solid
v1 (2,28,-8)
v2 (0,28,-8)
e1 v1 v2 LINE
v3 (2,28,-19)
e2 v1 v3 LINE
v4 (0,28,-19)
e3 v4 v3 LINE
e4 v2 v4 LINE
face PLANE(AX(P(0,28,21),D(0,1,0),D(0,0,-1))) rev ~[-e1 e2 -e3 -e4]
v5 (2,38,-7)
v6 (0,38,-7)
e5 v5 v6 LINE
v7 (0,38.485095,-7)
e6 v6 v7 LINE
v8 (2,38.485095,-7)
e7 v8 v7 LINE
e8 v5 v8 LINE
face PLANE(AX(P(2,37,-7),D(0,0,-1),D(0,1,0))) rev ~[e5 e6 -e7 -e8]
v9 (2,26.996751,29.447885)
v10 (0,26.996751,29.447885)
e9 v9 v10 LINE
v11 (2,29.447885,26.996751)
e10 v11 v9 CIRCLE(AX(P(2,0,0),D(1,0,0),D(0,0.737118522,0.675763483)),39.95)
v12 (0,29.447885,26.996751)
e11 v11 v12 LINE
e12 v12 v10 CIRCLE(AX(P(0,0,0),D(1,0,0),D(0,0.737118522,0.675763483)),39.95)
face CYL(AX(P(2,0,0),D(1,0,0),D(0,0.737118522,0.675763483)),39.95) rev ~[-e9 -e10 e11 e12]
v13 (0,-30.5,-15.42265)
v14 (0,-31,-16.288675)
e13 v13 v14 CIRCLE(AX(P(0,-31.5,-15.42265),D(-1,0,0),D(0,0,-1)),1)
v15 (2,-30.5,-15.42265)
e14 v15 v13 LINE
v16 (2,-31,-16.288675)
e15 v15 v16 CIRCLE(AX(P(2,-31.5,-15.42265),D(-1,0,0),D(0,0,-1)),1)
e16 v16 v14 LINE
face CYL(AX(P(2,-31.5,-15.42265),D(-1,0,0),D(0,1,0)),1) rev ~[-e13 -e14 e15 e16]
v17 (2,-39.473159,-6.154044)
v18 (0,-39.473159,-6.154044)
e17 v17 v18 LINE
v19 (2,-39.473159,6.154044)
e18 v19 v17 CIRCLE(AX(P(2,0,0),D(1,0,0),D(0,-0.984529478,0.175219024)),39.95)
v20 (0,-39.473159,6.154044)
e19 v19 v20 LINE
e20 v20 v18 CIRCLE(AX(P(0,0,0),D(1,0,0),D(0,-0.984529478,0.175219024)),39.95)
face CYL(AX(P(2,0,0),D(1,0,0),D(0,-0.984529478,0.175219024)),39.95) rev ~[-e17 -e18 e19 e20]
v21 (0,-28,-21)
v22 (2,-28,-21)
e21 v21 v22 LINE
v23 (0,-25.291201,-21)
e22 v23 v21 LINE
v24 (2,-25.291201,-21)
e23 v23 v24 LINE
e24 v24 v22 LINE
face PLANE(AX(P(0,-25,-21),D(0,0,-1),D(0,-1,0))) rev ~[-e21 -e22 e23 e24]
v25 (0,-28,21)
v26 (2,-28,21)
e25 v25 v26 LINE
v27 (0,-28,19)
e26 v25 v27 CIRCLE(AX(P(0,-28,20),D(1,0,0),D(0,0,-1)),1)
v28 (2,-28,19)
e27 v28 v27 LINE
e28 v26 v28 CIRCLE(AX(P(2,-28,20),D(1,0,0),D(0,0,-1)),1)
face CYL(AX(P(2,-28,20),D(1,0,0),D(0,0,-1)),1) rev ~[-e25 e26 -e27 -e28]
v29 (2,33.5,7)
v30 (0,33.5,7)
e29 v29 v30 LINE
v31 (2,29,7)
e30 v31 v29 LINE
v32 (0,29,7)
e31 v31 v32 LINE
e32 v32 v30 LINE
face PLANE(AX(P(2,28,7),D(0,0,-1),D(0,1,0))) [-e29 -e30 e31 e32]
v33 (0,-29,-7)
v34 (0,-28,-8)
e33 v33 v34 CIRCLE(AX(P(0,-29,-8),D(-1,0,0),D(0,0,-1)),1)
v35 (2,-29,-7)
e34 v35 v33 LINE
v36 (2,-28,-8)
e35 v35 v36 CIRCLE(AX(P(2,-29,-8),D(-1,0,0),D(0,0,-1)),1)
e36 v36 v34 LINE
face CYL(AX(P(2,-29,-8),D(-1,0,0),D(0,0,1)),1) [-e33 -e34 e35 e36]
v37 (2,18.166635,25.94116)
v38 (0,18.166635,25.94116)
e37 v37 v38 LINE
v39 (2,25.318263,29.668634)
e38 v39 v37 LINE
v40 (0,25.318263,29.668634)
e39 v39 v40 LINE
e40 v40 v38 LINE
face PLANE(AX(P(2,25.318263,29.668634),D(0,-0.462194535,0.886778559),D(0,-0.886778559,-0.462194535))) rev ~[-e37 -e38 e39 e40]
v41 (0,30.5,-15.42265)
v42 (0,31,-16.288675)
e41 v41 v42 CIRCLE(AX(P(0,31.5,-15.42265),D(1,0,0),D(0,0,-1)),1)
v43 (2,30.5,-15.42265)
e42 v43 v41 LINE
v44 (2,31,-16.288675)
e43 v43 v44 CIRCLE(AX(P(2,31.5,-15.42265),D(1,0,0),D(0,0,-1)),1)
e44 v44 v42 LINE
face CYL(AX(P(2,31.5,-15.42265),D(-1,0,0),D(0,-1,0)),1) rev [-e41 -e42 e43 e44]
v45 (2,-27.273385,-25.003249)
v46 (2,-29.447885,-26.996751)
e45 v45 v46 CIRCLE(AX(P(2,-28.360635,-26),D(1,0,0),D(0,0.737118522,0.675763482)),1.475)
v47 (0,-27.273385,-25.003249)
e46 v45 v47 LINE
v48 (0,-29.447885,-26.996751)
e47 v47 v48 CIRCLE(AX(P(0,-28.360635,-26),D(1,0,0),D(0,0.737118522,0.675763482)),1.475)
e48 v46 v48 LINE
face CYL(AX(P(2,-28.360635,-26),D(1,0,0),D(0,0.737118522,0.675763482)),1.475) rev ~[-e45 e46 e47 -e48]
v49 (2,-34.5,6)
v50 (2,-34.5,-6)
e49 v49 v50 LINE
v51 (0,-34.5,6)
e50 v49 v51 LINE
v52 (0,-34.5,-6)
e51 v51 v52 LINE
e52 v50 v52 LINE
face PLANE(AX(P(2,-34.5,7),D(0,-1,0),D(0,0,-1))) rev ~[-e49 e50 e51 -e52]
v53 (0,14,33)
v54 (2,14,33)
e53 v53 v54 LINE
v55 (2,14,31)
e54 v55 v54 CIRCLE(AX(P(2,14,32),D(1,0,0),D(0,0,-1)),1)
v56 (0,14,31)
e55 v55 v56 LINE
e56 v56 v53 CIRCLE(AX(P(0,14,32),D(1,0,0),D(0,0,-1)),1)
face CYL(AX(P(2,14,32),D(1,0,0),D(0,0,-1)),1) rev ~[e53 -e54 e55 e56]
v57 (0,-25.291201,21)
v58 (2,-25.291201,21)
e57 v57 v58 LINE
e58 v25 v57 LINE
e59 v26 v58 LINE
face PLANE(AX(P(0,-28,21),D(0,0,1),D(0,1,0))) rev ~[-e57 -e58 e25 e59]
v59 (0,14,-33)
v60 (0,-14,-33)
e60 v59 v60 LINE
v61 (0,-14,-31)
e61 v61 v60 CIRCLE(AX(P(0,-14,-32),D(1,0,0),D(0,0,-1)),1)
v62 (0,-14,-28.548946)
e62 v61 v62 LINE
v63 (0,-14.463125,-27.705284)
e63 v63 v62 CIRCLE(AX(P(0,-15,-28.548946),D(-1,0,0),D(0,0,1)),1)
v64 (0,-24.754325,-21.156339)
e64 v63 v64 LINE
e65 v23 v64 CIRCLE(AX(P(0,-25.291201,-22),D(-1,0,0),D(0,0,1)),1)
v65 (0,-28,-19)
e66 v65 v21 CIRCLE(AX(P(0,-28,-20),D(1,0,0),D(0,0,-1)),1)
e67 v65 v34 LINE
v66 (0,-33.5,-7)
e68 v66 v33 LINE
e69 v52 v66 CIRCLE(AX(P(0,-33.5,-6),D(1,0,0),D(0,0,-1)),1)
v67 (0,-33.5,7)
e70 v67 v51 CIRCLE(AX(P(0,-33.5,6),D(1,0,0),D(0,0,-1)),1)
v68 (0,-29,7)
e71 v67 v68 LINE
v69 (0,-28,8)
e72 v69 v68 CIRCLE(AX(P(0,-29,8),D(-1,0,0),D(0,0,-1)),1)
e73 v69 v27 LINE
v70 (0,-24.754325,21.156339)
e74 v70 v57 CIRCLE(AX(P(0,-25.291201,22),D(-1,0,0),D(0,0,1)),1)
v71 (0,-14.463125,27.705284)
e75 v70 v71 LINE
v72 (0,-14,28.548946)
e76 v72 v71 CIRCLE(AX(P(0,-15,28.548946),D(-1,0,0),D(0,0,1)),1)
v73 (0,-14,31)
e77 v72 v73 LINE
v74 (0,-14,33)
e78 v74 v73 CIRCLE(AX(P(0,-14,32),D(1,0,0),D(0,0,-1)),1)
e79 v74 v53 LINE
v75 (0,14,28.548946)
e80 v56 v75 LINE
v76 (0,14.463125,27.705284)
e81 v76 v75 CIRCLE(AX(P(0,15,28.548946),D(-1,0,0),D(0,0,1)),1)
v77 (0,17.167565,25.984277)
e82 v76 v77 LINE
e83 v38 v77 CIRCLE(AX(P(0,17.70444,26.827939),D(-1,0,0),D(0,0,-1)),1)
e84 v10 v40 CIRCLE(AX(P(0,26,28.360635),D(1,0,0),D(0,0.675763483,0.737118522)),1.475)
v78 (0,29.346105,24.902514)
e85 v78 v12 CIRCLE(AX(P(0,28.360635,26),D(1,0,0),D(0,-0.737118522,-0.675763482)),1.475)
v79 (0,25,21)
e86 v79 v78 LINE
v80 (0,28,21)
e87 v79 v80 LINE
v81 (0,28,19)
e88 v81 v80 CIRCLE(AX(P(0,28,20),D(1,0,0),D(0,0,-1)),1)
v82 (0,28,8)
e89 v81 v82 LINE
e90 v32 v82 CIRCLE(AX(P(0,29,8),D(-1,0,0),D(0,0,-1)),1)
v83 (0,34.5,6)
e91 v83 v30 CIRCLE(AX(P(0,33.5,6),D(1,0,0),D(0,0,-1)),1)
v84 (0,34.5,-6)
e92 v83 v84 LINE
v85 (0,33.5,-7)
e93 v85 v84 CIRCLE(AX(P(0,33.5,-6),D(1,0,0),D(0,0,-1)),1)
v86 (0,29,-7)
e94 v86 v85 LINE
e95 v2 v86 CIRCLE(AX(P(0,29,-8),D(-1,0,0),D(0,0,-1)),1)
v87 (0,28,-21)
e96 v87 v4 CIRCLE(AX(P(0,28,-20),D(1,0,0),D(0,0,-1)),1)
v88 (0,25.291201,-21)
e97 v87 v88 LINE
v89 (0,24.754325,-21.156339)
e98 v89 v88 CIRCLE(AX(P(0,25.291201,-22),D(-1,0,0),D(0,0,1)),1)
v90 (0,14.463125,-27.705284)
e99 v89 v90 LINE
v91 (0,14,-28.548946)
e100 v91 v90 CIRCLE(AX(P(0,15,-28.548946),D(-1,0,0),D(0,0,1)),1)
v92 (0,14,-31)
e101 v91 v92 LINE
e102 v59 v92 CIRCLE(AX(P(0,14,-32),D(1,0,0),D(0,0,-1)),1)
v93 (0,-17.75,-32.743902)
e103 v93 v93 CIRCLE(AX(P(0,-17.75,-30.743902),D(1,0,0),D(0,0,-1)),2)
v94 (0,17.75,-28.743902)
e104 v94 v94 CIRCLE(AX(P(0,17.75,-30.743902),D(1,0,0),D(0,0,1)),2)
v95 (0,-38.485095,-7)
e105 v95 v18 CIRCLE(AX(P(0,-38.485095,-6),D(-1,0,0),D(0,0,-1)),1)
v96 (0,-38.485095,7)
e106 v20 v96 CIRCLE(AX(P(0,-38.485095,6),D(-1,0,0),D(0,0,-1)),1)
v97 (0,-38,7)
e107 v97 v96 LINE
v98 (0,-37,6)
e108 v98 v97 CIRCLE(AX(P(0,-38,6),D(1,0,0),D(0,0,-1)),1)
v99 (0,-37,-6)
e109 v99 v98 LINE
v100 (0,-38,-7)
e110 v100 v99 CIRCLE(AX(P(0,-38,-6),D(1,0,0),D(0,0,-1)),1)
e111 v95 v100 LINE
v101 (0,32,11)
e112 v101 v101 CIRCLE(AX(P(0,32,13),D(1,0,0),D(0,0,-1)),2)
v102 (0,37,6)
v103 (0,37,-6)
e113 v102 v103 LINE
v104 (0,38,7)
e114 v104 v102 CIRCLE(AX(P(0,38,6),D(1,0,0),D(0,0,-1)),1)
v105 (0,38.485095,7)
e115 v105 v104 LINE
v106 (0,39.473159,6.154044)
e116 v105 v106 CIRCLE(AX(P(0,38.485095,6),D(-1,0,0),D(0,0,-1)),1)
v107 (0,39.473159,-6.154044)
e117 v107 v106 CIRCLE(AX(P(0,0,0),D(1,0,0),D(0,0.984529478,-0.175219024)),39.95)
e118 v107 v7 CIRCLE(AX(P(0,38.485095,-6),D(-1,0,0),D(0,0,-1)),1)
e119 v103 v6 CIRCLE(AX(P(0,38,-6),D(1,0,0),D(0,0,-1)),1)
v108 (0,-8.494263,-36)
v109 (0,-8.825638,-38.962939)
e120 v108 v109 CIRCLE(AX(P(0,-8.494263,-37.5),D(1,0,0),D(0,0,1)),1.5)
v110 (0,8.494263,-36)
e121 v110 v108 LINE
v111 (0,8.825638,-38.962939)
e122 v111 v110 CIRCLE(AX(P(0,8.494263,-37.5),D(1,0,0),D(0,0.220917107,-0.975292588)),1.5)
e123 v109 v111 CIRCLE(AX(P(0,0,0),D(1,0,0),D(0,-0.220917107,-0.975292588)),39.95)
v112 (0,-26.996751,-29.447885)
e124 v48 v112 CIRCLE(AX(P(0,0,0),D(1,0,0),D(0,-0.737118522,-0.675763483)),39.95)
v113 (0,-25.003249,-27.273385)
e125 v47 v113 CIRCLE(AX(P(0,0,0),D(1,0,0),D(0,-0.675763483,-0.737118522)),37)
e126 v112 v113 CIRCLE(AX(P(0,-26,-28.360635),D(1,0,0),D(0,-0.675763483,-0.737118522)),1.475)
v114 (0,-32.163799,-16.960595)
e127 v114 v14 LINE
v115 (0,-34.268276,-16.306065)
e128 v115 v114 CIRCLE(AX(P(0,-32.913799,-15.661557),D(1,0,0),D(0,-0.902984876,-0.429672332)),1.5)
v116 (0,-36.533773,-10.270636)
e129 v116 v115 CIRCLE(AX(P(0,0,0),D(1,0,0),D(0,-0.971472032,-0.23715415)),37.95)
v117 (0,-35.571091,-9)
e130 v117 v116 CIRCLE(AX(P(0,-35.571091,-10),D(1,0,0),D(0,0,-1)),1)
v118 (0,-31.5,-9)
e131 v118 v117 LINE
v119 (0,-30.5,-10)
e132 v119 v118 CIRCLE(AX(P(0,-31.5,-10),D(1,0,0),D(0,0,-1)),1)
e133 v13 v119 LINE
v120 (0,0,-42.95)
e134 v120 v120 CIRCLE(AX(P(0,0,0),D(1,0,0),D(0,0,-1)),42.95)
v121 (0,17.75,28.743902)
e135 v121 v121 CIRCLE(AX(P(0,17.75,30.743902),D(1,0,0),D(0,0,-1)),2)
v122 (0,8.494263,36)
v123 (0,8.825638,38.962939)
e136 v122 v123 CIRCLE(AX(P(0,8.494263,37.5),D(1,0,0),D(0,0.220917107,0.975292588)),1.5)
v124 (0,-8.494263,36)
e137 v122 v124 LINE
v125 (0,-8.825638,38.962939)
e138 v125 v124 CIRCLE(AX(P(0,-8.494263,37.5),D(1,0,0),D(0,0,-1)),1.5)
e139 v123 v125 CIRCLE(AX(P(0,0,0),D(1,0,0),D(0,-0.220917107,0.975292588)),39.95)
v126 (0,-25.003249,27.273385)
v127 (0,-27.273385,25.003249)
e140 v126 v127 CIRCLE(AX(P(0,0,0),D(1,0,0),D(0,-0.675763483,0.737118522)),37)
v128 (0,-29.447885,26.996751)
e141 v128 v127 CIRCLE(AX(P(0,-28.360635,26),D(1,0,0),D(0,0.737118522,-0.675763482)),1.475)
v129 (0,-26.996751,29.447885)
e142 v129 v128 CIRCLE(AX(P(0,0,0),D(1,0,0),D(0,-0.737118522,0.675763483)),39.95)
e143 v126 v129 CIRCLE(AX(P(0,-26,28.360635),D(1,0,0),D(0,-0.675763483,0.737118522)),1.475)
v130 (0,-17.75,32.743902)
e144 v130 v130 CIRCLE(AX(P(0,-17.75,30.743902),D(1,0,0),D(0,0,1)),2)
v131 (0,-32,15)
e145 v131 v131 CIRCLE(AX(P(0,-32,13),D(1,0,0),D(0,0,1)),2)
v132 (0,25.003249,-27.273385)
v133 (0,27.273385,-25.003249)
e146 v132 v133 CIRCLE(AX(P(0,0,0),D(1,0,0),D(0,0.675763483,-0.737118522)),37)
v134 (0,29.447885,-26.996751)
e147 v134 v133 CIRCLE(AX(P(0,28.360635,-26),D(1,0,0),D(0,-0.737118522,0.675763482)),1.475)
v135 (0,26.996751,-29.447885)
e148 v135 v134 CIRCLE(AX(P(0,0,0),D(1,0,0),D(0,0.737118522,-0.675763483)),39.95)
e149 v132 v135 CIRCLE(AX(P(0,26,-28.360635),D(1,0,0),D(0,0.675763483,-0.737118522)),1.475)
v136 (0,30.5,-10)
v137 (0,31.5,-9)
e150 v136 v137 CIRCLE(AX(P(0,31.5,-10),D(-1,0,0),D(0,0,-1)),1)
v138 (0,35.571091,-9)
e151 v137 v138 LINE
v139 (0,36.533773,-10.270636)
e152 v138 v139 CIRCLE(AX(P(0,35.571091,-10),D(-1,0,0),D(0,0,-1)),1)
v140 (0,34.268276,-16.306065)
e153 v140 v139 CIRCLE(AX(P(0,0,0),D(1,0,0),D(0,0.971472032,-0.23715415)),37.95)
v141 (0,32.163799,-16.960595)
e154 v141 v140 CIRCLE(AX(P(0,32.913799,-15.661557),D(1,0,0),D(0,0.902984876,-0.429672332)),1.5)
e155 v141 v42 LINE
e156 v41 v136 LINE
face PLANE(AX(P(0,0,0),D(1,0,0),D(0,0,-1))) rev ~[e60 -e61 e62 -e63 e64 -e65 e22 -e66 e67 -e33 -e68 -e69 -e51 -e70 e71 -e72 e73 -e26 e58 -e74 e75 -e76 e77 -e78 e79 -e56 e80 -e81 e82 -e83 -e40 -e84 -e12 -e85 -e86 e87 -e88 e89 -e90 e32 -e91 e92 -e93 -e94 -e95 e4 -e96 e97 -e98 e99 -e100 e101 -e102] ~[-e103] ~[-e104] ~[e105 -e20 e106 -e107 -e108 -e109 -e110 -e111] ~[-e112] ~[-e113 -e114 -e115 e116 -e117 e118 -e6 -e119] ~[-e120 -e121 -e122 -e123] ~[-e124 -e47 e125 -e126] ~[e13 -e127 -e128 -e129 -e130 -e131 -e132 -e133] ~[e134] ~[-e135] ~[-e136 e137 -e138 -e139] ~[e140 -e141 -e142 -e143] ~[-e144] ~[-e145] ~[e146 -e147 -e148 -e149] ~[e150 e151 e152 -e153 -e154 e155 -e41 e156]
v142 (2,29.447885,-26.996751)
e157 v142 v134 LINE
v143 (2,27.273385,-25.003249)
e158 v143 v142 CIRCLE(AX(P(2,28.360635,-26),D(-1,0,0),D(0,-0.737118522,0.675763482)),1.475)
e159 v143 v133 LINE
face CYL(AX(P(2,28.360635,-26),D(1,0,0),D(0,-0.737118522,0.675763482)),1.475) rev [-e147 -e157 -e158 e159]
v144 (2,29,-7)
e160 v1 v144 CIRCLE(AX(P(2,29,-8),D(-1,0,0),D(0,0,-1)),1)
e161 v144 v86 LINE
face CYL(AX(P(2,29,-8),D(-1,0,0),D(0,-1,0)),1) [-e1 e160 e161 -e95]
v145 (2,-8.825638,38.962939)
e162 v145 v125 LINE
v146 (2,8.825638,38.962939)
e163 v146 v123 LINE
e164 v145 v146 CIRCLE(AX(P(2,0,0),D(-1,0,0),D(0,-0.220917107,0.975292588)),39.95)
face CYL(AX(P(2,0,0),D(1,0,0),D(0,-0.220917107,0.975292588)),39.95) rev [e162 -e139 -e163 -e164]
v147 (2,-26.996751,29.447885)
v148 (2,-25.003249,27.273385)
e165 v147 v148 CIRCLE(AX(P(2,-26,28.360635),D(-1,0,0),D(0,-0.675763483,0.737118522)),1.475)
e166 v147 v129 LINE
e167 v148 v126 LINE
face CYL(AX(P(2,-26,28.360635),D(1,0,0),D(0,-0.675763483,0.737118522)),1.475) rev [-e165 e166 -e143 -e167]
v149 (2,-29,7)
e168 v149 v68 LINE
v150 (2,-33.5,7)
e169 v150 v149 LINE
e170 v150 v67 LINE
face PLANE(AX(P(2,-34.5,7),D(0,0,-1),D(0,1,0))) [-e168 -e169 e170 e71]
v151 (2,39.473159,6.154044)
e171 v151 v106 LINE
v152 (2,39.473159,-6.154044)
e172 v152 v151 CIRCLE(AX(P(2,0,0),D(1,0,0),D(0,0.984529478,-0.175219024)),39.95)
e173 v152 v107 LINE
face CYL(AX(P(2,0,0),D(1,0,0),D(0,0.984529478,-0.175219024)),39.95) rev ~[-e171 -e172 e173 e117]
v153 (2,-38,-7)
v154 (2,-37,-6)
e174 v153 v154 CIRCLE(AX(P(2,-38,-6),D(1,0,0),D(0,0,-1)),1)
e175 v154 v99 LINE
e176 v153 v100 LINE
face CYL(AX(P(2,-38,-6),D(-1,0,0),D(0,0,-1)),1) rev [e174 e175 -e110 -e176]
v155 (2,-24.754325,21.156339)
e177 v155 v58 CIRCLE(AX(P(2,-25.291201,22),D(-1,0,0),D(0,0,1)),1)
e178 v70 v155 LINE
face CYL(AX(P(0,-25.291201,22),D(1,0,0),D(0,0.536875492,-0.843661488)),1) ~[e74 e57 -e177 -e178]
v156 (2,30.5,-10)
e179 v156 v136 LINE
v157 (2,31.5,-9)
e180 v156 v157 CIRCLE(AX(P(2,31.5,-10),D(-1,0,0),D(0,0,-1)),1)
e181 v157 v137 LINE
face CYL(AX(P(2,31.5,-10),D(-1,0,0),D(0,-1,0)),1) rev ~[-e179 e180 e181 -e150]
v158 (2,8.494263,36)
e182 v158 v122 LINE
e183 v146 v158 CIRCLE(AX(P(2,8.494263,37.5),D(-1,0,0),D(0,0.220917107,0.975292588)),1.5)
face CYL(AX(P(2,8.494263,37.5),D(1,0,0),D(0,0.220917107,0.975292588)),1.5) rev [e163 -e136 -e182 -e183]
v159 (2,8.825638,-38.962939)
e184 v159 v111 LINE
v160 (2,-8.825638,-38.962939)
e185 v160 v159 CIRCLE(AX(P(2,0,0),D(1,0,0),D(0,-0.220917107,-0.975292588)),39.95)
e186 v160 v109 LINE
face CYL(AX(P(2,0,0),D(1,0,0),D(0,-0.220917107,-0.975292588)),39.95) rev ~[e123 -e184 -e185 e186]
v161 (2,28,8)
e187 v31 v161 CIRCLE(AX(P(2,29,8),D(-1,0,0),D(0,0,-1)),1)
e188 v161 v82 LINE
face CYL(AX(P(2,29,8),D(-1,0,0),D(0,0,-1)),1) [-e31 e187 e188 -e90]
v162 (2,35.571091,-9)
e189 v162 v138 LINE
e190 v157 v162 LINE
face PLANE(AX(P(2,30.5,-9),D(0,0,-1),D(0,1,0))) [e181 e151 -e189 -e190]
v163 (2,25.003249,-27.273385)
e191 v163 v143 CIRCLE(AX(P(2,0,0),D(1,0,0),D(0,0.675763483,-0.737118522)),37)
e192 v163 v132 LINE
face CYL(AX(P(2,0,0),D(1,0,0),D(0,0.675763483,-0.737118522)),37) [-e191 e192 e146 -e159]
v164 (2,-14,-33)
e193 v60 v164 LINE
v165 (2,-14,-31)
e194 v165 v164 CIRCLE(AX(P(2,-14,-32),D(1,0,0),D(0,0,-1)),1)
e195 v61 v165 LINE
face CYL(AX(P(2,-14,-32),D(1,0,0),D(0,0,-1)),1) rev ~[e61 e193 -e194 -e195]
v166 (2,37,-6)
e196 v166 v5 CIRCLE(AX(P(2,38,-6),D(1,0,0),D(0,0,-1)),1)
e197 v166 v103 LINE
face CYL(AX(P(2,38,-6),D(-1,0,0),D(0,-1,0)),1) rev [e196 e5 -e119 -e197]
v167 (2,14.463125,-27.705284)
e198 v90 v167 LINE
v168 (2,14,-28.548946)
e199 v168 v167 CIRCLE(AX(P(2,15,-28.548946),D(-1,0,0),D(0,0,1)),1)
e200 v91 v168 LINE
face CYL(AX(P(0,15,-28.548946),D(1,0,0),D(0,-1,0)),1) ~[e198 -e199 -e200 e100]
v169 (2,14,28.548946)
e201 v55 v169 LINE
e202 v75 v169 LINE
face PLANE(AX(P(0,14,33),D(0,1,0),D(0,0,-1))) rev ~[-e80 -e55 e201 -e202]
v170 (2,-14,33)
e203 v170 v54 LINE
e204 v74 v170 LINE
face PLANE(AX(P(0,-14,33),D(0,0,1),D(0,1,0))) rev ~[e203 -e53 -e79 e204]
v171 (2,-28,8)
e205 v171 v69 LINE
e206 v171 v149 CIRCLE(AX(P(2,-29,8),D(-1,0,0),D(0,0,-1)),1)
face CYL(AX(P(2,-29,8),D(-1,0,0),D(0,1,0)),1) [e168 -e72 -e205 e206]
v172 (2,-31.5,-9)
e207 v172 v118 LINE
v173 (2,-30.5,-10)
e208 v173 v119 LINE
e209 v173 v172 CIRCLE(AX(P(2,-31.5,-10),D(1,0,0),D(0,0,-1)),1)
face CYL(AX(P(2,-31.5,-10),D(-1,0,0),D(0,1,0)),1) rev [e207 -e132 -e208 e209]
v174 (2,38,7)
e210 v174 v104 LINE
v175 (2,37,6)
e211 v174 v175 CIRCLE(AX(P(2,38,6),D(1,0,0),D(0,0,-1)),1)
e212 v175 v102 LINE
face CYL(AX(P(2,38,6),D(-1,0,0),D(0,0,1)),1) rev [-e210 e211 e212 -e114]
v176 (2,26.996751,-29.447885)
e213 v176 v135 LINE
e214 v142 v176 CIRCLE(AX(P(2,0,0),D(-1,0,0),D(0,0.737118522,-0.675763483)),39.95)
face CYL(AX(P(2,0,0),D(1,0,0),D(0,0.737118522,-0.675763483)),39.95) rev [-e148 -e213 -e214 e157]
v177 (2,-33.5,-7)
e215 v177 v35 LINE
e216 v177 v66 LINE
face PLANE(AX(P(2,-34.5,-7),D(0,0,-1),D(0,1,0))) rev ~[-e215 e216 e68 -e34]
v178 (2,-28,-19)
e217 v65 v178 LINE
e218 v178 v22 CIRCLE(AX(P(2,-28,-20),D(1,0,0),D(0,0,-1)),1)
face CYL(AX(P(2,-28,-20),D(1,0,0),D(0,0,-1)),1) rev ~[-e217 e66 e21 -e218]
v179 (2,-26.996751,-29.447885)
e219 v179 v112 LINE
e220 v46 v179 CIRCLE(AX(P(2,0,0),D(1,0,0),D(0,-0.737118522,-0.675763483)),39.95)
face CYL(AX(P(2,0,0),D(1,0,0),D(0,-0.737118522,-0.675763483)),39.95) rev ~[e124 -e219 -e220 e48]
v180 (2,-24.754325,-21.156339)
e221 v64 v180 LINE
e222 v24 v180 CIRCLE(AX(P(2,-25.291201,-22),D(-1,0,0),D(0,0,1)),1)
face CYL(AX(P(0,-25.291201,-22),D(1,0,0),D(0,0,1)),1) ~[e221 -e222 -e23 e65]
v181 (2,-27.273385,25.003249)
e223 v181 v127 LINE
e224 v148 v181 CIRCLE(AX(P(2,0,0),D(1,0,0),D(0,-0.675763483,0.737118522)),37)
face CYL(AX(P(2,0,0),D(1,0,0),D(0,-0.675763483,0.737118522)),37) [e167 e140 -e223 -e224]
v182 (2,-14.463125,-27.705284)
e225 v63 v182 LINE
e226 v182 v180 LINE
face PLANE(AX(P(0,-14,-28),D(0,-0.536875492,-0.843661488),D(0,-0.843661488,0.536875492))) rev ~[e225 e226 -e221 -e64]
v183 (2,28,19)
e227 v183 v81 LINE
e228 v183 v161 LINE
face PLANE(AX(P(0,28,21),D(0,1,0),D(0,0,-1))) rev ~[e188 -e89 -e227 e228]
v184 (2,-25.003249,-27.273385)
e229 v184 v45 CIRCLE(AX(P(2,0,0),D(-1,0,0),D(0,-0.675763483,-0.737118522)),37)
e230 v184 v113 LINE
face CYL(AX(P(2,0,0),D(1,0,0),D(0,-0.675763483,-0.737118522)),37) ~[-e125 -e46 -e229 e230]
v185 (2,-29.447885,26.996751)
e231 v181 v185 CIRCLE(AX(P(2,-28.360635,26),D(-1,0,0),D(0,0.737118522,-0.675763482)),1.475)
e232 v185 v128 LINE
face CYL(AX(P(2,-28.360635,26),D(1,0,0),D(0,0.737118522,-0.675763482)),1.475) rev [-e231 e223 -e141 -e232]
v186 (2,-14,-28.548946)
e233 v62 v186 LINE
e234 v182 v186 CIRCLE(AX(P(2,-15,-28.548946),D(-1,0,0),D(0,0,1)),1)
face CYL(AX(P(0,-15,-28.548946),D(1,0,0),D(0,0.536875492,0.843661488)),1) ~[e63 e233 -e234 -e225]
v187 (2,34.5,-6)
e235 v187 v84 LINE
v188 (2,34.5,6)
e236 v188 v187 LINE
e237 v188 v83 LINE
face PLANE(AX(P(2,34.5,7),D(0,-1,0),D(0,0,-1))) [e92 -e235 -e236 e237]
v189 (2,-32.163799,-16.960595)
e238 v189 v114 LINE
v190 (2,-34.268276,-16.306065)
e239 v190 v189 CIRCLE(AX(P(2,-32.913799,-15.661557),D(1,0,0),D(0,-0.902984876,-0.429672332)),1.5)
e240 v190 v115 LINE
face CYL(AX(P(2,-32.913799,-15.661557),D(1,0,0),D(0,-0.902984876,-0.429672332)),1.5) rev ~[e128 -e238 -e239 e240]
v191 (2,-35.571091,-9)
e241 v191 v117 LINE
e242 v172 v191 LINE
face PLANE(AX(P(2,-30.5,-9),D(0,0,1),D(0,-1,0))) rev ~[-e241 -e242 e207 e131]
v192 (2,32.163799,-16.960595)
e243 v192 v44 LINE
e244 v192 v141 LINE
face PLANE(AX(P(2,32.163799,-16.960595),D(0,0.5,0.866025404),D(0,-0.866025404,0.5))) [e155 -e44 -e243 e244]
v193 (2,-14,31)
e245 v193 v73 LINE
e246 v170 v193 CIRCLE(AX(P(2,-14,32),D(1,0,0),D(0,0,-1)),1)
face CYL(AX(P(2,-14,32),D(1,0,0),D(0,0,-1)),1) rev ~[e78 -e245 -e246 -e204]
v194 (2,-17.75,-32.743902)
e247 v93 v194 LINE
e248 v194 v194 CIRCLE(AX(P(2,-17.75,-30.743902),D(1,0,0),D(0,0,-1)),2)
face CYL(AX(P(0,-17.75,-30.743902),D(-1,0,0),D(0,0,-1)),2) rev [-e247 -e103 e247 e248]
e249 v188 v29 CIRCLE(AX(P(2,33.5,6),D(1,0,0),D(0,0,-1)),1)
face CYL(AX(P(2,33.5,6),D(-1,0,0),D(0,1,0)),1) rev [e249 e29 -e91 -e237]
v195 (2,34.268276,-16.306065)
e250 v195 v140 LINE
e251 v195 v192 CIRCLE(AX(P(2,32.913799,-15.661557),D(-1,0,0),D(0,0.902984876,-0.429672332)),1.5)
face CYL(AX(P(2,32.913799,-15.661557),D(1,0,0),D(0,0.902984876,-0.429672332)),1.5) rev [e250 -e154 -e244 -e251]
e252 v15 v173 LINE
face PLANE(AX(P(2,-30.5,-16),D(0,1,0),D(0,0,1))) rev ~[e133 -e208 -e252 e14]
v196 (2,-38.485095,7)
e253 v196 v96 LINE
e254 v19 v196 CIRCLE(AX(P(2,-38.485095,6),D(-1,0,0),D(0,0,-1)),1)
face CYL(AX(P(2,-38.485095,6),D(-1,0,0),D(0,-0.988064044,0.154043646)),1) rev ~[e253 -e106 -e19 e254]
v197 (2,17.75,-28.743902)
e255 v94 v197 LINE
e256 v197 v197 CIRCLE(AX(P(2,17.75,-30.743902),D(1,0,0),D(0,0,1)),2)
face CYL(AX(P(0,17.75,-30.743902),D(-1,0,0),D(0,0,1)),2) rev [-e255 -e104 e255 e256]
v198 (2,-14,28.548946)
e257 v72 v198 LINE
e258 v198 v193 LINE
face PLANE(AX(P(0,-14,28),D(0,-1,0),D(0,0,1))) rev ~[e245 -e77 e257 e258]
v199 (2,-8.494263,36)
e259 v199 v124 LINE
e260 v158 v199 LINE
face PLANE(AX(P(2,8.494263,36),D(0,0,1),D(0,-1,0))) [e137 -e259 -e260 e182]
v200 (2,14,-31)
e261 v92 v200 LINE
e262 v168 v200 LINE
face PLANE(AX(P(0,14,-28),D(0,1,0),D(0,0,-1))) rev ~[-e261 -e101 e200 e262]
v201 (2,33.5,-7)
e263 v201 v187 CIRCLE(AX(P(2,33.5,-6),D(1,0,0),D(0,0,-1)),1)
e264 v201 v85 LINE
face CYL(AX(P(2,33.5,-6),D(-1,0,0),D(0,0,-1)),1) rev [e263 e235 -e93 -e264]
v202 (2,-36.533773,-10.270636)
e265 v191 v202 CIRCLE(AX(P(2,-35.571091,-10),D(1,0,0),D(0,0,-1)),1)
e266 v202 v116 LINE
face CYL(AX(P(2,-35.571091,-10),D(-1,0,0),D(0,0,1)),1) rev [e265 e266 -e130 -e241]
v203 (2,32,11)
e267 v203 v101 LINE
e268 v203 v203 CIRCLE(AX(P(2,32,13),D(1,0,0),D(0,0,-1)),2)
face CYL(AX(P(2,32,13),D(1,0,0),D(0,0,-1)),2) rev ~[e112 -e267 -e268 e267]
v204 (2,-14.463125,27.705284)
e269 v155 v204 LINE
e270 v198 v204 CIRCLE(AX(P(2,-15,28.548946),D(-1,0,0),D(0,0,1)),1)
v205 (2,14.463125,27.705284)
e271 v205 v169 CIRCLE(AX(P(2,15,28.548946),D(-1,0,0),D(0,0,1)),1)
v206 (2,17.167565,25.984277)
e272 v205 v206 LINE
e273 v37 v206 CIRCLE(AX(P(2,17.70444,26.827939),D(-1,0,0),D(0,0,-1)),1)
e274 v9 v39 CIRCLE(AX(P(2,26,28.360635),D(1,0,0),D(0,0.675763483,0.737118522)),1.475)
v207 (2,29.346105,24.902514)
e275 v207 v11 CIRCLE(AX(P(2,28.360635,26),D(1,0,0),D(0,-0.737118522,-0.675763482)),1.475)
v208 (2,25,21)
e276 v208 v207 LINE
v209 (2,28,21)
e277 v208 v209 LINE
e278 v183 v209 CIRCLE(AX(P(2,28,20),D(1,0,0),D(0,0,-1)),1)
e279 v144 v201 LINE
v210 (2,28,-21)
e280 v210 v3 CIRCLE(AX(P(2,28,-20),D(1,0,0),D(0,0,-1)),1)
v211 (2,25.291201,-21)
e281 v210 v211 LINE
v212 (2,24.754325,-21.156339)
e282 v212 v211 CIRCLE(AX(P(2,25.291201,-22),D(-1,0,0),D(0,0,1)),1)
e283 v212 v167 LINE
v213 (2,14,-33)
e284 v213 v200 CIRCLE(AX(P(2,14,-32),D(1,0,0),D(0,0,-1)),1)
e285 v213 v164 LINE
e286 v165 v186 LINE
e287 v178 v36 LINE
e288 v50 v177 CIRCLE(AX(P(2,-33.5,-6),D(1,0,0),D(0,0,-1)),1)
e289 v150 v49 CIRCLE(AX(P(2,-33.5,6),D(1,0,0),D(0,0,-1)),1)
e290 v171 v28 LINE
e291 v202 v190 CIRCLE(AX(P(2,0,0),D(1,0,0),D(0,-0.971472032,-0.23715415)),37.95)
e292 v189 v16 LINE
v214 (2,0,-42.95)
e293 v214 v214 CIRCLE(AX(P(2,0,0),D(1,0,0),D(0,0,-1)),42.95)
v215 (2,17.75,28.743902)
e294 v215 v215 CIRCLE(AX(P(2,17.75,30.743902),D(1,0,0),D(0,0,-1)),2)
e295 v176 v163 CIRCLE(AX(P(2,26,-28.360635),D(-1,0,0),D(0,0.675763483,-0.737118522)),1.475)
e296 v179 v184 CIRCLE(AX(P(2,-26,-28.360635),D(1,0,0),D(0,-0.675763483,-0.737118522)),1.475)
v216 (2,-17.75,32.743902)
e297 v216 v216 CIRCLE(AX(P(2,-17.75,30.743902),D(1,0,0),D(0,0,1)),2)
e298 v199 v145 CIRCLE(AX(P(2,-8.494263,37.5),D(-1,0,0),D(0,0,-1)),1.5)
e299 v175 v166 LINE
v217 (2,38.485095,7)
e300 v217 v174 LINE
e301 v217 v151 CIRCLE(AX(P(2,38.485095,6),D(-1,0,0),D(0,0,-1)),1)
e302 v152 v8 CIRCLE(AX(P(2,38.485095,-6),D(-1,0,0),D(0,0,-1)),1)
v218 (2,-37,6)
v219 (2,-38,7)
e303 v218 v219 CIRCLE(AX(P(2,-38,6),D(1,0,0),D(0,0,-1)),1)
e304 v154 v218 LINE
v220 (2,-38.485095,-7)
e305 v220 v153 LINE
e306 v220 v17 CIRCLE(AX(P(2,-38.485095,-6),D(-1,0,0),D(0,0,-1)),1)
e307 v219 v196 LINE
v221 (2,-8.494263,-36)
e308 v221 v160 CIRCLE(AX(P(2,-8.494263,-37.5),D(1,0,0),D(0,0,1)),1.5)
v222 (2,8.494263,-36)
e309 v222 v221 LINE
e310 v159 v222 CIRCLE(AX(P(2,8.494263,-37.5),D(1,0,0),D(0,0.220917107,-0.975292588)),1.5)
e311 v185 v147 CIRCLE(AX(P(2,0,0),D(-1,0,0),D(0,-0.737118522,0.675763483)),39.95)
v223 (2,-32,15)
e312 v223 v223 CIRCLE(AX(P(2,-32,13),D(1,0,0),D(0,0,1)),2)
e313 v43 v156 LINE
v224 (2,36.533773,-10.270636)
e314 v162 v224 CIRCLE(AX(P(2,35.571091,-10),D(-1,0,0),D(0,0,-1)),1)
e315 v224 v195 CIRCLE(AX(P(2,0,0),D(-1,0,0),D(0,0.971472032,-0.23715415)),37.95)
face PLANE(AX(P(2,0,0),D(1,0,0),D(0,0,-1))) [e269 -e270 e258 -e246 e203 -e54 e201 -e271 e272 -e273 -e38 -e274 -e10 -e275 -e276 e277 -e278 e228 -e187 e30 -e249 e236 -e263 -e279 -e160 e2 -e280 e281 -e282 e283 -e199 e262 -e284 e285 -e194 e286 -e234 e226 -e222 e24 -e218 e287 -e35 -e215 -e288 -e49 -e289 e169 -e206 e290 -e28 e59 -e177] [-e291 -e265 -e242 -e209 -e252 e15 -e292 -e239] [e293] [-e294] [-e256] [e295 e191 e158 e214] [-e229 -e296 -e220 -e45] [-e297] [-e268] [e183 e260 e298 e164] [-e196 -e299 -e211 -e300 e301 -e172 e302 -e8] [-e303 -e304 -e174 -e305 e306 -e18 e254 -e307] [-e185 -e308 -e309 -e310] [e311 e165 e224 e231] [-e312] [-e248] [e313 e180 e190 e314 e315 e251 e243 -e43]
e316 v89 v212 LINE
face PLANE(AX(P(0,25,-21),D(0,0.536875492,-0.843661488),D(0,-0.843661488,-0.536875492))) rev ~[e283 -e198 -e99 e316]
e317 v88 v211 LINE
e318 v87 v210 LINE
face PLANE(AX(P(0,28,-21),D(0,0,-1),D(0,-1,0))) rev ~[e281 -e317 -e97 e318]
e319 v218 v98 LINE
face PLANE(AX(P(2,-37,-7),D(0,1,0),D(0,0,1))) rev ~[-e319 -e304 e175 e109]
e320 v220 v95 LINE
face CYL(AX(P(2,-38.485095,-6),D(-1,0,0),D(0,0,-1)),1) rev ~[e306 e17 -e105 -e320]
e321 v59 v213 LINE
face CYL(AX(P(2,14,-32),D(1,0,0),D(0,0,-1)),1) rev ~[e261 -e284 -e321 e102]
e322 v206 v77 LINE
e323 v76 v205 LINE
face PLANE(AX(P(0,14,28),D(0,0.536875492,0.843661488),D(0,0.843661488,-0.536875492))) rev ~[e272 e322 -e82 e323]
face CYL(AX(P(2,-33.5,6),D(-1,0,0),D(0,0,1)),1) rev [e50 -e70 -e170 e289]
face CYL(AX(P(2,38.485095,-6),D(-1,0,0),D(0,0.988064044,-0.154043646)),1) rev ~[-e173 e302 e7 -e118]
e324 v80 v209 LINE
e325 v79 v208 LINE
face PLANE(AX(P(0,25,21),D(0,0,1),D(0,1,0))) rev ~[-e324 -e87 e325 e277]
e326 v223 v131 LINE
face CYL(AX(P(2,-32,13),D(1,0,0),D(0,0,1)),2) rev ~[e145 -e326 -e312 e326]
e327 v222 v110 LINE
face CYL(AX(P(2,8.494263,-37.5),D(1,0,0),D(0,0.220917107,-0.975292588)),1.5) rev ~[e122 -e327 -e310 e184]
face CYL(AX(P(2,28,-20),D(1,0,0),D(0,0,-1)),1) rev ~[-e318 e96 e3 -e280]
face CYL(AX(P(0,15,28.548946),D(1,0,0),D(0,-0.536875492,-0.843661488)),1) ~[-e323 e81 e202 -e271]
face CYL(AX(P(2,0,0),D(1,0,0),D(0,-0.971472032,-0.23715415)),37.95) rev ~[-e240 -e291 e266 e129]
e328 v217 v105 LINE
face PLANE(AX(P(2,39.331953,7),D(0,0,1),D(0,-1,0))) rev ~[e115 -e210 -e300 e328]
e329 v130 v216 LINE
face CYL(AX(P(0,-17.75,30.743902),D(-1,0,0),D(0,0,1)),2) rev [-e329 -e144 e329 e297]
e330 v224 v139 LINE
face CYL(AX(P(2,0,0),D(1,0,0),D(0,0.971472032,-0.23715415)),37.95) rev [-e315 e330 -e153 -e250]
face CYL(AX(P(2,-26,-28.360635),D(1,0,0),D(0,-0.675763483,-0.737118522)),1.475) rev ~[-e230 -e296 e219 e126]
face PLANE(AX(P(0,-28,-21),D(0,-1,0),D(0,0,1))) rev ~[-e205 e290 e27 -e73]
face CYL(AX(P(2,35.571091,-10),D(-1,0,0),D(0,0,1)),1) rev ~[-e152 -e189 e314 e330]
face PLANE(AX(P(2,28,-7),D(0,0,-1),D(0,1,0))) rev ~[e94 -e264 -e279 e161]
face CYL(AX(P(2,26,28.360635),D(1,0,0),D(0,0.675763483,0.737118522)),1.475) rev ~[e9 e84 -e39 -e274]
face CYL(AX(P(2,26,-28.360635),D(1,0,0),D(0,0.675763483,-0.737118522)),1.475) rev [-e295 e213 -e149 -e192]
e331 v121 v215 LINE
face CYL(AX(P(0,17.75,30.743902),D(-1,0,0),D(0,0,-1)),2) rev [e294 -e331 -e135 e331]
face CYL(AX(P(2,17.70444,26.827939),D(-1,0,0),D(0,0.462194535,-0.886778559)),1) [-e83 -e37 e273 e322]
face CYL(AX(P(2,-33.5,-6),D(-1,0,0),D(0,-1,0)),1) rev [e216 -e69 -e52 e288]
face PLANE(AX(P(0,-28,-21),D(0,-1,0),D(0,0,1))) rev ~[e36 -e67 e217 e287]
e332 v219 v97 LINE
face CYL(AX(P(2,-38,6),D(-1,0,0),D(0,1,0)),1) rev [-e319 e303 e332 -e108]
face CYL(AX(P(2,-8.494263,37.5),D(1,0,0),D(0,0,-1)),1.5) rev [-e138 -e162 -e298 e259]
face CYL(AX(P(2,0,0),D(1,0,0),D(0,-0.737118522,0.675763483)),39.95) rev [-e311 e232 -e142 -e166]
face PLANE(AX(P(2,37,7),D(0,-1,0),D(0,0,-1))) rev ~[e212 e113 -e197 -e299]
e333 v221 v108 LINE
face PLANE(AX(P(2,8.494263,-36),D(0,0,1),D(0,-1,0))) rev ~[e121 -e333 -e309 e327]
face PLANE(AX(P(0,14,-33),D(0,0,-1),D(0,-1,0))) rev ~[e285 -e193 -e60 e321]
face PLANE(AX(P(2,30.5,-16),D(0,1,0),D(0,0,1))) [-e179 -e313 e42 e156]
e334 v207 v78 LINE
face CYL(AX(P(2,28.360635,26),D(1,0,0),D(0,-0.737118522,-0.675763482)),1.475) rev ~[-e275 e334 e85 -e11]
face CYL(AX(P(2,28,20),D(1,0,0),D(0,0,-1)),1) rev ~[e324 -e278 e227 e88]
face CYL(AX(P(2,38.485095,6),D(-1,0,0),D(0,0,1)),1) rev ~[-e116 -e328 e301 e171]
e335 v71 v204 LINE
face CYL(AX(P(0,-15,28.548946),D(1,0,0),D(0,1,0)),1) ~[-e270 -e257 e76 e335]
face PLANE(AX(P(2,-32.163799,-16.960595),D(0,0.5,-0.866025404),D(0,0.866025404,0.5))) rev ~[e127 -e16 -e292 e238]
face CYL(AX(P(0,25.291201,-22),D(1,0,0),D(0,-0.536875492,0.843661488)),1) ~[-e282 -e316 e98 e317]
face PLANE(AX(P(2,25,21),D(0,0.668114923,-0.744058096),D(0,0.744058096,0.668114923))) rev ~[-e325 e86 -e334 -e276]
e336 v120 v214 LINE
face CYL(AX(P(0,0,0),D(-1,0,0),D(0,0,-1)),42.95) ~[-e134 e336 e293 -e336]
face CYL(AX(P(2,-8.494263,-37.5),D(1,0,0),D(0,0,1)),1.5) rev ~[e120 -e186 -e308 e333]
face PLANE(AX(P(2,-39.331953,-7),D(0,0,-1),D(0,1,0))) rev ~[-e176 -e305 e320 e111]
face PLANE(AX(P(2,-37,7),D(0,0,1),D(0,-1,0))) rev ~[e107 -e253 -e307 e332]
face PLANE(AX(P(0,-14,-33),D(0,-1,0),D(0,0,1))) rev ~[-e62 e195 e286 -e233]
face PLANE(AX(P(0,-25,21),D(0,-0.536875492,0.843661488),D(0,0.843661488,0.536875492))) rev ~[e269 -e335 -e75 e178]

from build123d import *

# Parameters (mm, degrees)
SKETCH_1_R          = 42.95
SKETCH_1_R_2        = 2
EXTRUDE_1_DEPTH     = 2
SKETCH_5_R          = 1
SKETCH_5_R_2        = 2
SKETCH_5_W          = 14
SKETCH_5_H          = 6.5
CUT_EXTRUDE_2_DEPTH = 61.773390559
CUT_EXTRUDE_3_DEPTH = 61.773390559
FILLET_1_R          = 1


with BuildPart() as part:
    # 草图1 → 凸台-拉伸1 (new body)
    with BuildSketch(Plane(origin=(0, 0, 0), x_dir=(0, 0, -1), z_dir=(1, 0, 0))):
        Circle(SKETCH_1_R)
        with Locations((-30.743901834, 17.75)):
            Circle(SKETCH_1_R_2, mode=Mode.SUBTRACT)
        with Locations(Location((-30.743901834, -17.75, 0), (0, 0, 180))):
            Circle(SKETCH_1_R_2, mode=Mode.SUBTRACT)
        with Locations((30.743901834, -17.75)):
            Circle(SKETCH_1_R_2, mode=Mode.SUBTRACT)
        with Locations(Location((30.743901834, 17.75, 0), (0, 0, 180))):
            Circle(SKETCH_1_R_2, mode=Mode.SUBTRACT)
        Polygon((-21, 28), (21, 28), (21, 25), (28, 14), (33, 14), (33, -14), (28, -14), (21, -25), (21, -28), (-21, -28), (-21, -25), (-28, -14), (-33, -14), (-33, 14), (-28, 14), (-21, 25), align=None, mode=Mode.SUBTRACT)
    extrude(amount=EXTRUDE_1_DEPTH)

    # 草图5 → 切除-拉伸2 (cut, through all)
    with BuildSketch(Plane(origin=(2, 0, 0), x_dir=(0, 0, -1), z_dir=(1, 0, 0))):
        with Locations((32, 14)):
            Circle(SKETCH_5_R)
        with Locations((20, 28)):
            Circle(SKETCH_5_R)
        with Locations((-20, 28)):
            Circle(SKETCH_5_R)
        with Locations((-32, 14)):
            Circle(SKETCH_5_R)
        with Locations((-32, -14)):
            Circle(SKETCH_5_R)
        with Locations((-20, -28)):
            Circle(SKETCH_5_R)
        with Locations((20, -28)):
            Circle(SKETCH_5_R)
        with Locations((32, -14)):
            Circle(SKETCH_5_R)
        with Locations((-13, 32)):
            Circle(SKETCH_5_R_2)
        with Locations(Location((-13, -32, 0), (0, 0, 180))):
            Circle(SKETCH_5_R_2)
        with BuildLine():
            Line((-36, 8.49426277), (-36, -8.49426277))
            ThreePointArc((-36, -8.49426277), (-37.333279159, -9.984968697), (-38.962938882, -8.82563843))
            ThreePointArc((-38.962938882, -8.82563843), (-39.95, 0), (-38.962938882, 8.82563843))
            ThreePointArc((-38.962938882, 8.82563843), (-37.333279159, 9.984968697), (-36, 8.49426277))
        make_face()
        with Locations((0, 31.25)):
            Rectangle(SKETCH_5_W, SKETCH_5_H)
        with BuildLine():
            Line((-7, 39.331952659), (-7, 37))
            Line((-7, 37), (7, 37))
            Line((7, 37), (7, 39.331952659))
            ThreePointArc((7, 39.331952659), (0, 39.95), (-7, 39.331952659))
        make_face()
        with BuildLine():
            Line((9, 30.5), (9, 36.867363616))
            ThreePointArc((9, 36.867363616), (12.719592996, 35.754922095), (16.306065038, 34.268276043))
            ThreePointArc((16.306065038, 34.268276043), (17.093879667, 33.359276514), (16.960594644, 32.163798729))
            Line((16.960594644, 32.163798729), (16, 30.5))
            Line((16, 30.5), (9, 30.5))
        make_face()
        with BuildLine():
            Line((36, 8.49426277), (36, -8.49426277))
            ThreePointArc((36, -8.49426277), (37.333279159, -9.984968697), (38.962938882, -8.82563843))
            ThreePointArc((38.962938882, -8.82563843), (39.95, 0), (38.962938882, 8.82563843))
            ThreePointArc((38.962938882, 8.82563843), (37.333279159, 9.984968697), (36, 8.49426277))
        make_face()
        with Locations((0, -31.25)):
            Rectangle(SKETCH_5_W, SKETCH_5_H)
        with BuildLine():
            Line((16, -30.5), (9, -30.5))
            Line((9, -30.5), (9, -36.867363616))
            ThreePointArc((9, -36.867363616), (12.719592996, -35.754922095), (16.306065038, -34.268276043))
            ThreePointArc((16.306065038, -34.268276043), (17.093879667, -33.359276514), (16.960594644, -32.163798729))
            Line((16.960594644, -32.163798729), (16, -30.5))
        make_face()
        with BuildLine():
            Line((7, -39.331952659), (7, -37))
            Line((7, -37), (-7, -37))
            Line((-7, -37), (-7, -39.331952659))
            ThreePointArc((-7, -39.331952659), (0, -39.95), (7, -39.331952659))
        make_face()
        with BuildLine():
            ThreePointArc((-26.996751137, 29.44788495), (-28.248915908, 28.248915908), (-29.44788495, 26.996751137))
            ThreePointArc((-29.44788495, 26.996751137), (-29.357386268, 24.91275018), (-27.273385311, 25.003248863))
            ThreePointArc((-27.273385311, 25.003248863), (-26.162950904, 26.162950904), (-25.003248863, 27.273385311))
            ThreePointArc((-25.003248863, 27.273385311), (-24.91275018, 29.357386268), (-26.996751137, 29.44788495))
        make_face()
        with BuildLine():
            ThreePointArc((26.996751137, 29.44788495), (28.248915908, 28.248915908), (29.44788495, 26.996751137))
            ThreePointArc((29.44788495, 26.996751137), (29.357386268, 24.91275018), (27.273385311, 25.003248863))
            ThreePointArc((27.273385311, 25.003248863), (26.162950904, 26.162950904), (25.003248863, 27.273385311))
            ThreePointArc((25.003248863, 27.273385311), (24.91275018, 29.357386268), (26.996751137, 29.44788495))
        make_face()
        with BuildLine():
            ThreePointArc((26.996751137, -29.44788495), (28.248915908, -28.248915908), (29.44788495, -26.996751137))
            ThreePointArc((29.44788495, -26.996751137), (29.357386268, -24.91275018), (27.273385311, -25.003248863))
            ThreePointArc((27.273385311, -25.003248863), (26.162950904, -26.162950904), (25.003248863, -27.273385311))
            ThreePointArc((25.003248863, -27.273385311), (24.91275018, -29.357386268), (26.996751137, -29.44788495))
        make_face()
        with BuildLine():
            ThreePointArc((-26.996751137, -29.44788495), (-28.248915908, -28.248915908), (-29.44788495, -26.996751137))
            ThreePointArc((-29.44788495, -26.996751137), (-29.357386268, -24.91275018), (-27.273385311, -25.003248863))
            ThreePointArc((-27.273385311, -25.003248863), (-26.162950904, -26.162950904), (-25.003248863, -27.273385311))
            ThreePointArc((-25.003248863, -27.273385311), (-24.91275018, -29.357386268), (-26.996751137, -29.44788495))
        make_face()
    extrude(amount=-CUT_EXTRUDE_2_DEPTH, mode=Mode.SUBTRACT)

    # 草图6 → 切除-拉伸3 (cut, through all)
    with BuildSketch(Plane(origin=(2, 0, 0), x_dir=(0, 0, -1), z_dir=(1, 0, 0))):
        Polygon((-29.668633505, 25.318263062), (-25.674311866, 17.654652782), (-21, 25), (-24.902514308, 29.346104641), align=None)
    extrude(amount=-CUT_EXTRUDE_3_DEPTH, mode=Mode.SUBTRACT)

    # 圆角1
    fillet_1_edges = [part.edges().sort_by_distance(p)[0] for p in [
        (1, -36.867363616, -9),
        (1, -30.5, -9),
        (1, -30.5, -16),
        (1, -39.331952659, -7),
        (1, -39.331952659, 7),
        (1, -37, 7),
        (1, -37, -7),
        (1, -14, 28),
        (1, -25, 21),
        (1, 30.5, -16),
        (1, -25, -21),
        (1, 30.5, -9),
        (1, 36.867363616, -9),
        (1, -14, -28),
        (1, 34.5, -7),
        (1, 28, -7),
        (1, 28, 7),
        (1, 34.5, 7),
        (1, 14, -28),
        (1, 25, -21),
        (1, 39.331952659, 7),
        (1, 39.331952659, -7),
        (1, 37, -7),
        (1, 37, 7),
        (1, 14, 28),
        (1, -34.5, 7),
        (1, -28, 7),
        (1, -28, -7),
        (1, -34.5, -7),
        (1, 17.654652782, 25.674311866),
    ]]
    fillet(fillet_1_edges, radius=FILLET_1_R)


solid = part.part
